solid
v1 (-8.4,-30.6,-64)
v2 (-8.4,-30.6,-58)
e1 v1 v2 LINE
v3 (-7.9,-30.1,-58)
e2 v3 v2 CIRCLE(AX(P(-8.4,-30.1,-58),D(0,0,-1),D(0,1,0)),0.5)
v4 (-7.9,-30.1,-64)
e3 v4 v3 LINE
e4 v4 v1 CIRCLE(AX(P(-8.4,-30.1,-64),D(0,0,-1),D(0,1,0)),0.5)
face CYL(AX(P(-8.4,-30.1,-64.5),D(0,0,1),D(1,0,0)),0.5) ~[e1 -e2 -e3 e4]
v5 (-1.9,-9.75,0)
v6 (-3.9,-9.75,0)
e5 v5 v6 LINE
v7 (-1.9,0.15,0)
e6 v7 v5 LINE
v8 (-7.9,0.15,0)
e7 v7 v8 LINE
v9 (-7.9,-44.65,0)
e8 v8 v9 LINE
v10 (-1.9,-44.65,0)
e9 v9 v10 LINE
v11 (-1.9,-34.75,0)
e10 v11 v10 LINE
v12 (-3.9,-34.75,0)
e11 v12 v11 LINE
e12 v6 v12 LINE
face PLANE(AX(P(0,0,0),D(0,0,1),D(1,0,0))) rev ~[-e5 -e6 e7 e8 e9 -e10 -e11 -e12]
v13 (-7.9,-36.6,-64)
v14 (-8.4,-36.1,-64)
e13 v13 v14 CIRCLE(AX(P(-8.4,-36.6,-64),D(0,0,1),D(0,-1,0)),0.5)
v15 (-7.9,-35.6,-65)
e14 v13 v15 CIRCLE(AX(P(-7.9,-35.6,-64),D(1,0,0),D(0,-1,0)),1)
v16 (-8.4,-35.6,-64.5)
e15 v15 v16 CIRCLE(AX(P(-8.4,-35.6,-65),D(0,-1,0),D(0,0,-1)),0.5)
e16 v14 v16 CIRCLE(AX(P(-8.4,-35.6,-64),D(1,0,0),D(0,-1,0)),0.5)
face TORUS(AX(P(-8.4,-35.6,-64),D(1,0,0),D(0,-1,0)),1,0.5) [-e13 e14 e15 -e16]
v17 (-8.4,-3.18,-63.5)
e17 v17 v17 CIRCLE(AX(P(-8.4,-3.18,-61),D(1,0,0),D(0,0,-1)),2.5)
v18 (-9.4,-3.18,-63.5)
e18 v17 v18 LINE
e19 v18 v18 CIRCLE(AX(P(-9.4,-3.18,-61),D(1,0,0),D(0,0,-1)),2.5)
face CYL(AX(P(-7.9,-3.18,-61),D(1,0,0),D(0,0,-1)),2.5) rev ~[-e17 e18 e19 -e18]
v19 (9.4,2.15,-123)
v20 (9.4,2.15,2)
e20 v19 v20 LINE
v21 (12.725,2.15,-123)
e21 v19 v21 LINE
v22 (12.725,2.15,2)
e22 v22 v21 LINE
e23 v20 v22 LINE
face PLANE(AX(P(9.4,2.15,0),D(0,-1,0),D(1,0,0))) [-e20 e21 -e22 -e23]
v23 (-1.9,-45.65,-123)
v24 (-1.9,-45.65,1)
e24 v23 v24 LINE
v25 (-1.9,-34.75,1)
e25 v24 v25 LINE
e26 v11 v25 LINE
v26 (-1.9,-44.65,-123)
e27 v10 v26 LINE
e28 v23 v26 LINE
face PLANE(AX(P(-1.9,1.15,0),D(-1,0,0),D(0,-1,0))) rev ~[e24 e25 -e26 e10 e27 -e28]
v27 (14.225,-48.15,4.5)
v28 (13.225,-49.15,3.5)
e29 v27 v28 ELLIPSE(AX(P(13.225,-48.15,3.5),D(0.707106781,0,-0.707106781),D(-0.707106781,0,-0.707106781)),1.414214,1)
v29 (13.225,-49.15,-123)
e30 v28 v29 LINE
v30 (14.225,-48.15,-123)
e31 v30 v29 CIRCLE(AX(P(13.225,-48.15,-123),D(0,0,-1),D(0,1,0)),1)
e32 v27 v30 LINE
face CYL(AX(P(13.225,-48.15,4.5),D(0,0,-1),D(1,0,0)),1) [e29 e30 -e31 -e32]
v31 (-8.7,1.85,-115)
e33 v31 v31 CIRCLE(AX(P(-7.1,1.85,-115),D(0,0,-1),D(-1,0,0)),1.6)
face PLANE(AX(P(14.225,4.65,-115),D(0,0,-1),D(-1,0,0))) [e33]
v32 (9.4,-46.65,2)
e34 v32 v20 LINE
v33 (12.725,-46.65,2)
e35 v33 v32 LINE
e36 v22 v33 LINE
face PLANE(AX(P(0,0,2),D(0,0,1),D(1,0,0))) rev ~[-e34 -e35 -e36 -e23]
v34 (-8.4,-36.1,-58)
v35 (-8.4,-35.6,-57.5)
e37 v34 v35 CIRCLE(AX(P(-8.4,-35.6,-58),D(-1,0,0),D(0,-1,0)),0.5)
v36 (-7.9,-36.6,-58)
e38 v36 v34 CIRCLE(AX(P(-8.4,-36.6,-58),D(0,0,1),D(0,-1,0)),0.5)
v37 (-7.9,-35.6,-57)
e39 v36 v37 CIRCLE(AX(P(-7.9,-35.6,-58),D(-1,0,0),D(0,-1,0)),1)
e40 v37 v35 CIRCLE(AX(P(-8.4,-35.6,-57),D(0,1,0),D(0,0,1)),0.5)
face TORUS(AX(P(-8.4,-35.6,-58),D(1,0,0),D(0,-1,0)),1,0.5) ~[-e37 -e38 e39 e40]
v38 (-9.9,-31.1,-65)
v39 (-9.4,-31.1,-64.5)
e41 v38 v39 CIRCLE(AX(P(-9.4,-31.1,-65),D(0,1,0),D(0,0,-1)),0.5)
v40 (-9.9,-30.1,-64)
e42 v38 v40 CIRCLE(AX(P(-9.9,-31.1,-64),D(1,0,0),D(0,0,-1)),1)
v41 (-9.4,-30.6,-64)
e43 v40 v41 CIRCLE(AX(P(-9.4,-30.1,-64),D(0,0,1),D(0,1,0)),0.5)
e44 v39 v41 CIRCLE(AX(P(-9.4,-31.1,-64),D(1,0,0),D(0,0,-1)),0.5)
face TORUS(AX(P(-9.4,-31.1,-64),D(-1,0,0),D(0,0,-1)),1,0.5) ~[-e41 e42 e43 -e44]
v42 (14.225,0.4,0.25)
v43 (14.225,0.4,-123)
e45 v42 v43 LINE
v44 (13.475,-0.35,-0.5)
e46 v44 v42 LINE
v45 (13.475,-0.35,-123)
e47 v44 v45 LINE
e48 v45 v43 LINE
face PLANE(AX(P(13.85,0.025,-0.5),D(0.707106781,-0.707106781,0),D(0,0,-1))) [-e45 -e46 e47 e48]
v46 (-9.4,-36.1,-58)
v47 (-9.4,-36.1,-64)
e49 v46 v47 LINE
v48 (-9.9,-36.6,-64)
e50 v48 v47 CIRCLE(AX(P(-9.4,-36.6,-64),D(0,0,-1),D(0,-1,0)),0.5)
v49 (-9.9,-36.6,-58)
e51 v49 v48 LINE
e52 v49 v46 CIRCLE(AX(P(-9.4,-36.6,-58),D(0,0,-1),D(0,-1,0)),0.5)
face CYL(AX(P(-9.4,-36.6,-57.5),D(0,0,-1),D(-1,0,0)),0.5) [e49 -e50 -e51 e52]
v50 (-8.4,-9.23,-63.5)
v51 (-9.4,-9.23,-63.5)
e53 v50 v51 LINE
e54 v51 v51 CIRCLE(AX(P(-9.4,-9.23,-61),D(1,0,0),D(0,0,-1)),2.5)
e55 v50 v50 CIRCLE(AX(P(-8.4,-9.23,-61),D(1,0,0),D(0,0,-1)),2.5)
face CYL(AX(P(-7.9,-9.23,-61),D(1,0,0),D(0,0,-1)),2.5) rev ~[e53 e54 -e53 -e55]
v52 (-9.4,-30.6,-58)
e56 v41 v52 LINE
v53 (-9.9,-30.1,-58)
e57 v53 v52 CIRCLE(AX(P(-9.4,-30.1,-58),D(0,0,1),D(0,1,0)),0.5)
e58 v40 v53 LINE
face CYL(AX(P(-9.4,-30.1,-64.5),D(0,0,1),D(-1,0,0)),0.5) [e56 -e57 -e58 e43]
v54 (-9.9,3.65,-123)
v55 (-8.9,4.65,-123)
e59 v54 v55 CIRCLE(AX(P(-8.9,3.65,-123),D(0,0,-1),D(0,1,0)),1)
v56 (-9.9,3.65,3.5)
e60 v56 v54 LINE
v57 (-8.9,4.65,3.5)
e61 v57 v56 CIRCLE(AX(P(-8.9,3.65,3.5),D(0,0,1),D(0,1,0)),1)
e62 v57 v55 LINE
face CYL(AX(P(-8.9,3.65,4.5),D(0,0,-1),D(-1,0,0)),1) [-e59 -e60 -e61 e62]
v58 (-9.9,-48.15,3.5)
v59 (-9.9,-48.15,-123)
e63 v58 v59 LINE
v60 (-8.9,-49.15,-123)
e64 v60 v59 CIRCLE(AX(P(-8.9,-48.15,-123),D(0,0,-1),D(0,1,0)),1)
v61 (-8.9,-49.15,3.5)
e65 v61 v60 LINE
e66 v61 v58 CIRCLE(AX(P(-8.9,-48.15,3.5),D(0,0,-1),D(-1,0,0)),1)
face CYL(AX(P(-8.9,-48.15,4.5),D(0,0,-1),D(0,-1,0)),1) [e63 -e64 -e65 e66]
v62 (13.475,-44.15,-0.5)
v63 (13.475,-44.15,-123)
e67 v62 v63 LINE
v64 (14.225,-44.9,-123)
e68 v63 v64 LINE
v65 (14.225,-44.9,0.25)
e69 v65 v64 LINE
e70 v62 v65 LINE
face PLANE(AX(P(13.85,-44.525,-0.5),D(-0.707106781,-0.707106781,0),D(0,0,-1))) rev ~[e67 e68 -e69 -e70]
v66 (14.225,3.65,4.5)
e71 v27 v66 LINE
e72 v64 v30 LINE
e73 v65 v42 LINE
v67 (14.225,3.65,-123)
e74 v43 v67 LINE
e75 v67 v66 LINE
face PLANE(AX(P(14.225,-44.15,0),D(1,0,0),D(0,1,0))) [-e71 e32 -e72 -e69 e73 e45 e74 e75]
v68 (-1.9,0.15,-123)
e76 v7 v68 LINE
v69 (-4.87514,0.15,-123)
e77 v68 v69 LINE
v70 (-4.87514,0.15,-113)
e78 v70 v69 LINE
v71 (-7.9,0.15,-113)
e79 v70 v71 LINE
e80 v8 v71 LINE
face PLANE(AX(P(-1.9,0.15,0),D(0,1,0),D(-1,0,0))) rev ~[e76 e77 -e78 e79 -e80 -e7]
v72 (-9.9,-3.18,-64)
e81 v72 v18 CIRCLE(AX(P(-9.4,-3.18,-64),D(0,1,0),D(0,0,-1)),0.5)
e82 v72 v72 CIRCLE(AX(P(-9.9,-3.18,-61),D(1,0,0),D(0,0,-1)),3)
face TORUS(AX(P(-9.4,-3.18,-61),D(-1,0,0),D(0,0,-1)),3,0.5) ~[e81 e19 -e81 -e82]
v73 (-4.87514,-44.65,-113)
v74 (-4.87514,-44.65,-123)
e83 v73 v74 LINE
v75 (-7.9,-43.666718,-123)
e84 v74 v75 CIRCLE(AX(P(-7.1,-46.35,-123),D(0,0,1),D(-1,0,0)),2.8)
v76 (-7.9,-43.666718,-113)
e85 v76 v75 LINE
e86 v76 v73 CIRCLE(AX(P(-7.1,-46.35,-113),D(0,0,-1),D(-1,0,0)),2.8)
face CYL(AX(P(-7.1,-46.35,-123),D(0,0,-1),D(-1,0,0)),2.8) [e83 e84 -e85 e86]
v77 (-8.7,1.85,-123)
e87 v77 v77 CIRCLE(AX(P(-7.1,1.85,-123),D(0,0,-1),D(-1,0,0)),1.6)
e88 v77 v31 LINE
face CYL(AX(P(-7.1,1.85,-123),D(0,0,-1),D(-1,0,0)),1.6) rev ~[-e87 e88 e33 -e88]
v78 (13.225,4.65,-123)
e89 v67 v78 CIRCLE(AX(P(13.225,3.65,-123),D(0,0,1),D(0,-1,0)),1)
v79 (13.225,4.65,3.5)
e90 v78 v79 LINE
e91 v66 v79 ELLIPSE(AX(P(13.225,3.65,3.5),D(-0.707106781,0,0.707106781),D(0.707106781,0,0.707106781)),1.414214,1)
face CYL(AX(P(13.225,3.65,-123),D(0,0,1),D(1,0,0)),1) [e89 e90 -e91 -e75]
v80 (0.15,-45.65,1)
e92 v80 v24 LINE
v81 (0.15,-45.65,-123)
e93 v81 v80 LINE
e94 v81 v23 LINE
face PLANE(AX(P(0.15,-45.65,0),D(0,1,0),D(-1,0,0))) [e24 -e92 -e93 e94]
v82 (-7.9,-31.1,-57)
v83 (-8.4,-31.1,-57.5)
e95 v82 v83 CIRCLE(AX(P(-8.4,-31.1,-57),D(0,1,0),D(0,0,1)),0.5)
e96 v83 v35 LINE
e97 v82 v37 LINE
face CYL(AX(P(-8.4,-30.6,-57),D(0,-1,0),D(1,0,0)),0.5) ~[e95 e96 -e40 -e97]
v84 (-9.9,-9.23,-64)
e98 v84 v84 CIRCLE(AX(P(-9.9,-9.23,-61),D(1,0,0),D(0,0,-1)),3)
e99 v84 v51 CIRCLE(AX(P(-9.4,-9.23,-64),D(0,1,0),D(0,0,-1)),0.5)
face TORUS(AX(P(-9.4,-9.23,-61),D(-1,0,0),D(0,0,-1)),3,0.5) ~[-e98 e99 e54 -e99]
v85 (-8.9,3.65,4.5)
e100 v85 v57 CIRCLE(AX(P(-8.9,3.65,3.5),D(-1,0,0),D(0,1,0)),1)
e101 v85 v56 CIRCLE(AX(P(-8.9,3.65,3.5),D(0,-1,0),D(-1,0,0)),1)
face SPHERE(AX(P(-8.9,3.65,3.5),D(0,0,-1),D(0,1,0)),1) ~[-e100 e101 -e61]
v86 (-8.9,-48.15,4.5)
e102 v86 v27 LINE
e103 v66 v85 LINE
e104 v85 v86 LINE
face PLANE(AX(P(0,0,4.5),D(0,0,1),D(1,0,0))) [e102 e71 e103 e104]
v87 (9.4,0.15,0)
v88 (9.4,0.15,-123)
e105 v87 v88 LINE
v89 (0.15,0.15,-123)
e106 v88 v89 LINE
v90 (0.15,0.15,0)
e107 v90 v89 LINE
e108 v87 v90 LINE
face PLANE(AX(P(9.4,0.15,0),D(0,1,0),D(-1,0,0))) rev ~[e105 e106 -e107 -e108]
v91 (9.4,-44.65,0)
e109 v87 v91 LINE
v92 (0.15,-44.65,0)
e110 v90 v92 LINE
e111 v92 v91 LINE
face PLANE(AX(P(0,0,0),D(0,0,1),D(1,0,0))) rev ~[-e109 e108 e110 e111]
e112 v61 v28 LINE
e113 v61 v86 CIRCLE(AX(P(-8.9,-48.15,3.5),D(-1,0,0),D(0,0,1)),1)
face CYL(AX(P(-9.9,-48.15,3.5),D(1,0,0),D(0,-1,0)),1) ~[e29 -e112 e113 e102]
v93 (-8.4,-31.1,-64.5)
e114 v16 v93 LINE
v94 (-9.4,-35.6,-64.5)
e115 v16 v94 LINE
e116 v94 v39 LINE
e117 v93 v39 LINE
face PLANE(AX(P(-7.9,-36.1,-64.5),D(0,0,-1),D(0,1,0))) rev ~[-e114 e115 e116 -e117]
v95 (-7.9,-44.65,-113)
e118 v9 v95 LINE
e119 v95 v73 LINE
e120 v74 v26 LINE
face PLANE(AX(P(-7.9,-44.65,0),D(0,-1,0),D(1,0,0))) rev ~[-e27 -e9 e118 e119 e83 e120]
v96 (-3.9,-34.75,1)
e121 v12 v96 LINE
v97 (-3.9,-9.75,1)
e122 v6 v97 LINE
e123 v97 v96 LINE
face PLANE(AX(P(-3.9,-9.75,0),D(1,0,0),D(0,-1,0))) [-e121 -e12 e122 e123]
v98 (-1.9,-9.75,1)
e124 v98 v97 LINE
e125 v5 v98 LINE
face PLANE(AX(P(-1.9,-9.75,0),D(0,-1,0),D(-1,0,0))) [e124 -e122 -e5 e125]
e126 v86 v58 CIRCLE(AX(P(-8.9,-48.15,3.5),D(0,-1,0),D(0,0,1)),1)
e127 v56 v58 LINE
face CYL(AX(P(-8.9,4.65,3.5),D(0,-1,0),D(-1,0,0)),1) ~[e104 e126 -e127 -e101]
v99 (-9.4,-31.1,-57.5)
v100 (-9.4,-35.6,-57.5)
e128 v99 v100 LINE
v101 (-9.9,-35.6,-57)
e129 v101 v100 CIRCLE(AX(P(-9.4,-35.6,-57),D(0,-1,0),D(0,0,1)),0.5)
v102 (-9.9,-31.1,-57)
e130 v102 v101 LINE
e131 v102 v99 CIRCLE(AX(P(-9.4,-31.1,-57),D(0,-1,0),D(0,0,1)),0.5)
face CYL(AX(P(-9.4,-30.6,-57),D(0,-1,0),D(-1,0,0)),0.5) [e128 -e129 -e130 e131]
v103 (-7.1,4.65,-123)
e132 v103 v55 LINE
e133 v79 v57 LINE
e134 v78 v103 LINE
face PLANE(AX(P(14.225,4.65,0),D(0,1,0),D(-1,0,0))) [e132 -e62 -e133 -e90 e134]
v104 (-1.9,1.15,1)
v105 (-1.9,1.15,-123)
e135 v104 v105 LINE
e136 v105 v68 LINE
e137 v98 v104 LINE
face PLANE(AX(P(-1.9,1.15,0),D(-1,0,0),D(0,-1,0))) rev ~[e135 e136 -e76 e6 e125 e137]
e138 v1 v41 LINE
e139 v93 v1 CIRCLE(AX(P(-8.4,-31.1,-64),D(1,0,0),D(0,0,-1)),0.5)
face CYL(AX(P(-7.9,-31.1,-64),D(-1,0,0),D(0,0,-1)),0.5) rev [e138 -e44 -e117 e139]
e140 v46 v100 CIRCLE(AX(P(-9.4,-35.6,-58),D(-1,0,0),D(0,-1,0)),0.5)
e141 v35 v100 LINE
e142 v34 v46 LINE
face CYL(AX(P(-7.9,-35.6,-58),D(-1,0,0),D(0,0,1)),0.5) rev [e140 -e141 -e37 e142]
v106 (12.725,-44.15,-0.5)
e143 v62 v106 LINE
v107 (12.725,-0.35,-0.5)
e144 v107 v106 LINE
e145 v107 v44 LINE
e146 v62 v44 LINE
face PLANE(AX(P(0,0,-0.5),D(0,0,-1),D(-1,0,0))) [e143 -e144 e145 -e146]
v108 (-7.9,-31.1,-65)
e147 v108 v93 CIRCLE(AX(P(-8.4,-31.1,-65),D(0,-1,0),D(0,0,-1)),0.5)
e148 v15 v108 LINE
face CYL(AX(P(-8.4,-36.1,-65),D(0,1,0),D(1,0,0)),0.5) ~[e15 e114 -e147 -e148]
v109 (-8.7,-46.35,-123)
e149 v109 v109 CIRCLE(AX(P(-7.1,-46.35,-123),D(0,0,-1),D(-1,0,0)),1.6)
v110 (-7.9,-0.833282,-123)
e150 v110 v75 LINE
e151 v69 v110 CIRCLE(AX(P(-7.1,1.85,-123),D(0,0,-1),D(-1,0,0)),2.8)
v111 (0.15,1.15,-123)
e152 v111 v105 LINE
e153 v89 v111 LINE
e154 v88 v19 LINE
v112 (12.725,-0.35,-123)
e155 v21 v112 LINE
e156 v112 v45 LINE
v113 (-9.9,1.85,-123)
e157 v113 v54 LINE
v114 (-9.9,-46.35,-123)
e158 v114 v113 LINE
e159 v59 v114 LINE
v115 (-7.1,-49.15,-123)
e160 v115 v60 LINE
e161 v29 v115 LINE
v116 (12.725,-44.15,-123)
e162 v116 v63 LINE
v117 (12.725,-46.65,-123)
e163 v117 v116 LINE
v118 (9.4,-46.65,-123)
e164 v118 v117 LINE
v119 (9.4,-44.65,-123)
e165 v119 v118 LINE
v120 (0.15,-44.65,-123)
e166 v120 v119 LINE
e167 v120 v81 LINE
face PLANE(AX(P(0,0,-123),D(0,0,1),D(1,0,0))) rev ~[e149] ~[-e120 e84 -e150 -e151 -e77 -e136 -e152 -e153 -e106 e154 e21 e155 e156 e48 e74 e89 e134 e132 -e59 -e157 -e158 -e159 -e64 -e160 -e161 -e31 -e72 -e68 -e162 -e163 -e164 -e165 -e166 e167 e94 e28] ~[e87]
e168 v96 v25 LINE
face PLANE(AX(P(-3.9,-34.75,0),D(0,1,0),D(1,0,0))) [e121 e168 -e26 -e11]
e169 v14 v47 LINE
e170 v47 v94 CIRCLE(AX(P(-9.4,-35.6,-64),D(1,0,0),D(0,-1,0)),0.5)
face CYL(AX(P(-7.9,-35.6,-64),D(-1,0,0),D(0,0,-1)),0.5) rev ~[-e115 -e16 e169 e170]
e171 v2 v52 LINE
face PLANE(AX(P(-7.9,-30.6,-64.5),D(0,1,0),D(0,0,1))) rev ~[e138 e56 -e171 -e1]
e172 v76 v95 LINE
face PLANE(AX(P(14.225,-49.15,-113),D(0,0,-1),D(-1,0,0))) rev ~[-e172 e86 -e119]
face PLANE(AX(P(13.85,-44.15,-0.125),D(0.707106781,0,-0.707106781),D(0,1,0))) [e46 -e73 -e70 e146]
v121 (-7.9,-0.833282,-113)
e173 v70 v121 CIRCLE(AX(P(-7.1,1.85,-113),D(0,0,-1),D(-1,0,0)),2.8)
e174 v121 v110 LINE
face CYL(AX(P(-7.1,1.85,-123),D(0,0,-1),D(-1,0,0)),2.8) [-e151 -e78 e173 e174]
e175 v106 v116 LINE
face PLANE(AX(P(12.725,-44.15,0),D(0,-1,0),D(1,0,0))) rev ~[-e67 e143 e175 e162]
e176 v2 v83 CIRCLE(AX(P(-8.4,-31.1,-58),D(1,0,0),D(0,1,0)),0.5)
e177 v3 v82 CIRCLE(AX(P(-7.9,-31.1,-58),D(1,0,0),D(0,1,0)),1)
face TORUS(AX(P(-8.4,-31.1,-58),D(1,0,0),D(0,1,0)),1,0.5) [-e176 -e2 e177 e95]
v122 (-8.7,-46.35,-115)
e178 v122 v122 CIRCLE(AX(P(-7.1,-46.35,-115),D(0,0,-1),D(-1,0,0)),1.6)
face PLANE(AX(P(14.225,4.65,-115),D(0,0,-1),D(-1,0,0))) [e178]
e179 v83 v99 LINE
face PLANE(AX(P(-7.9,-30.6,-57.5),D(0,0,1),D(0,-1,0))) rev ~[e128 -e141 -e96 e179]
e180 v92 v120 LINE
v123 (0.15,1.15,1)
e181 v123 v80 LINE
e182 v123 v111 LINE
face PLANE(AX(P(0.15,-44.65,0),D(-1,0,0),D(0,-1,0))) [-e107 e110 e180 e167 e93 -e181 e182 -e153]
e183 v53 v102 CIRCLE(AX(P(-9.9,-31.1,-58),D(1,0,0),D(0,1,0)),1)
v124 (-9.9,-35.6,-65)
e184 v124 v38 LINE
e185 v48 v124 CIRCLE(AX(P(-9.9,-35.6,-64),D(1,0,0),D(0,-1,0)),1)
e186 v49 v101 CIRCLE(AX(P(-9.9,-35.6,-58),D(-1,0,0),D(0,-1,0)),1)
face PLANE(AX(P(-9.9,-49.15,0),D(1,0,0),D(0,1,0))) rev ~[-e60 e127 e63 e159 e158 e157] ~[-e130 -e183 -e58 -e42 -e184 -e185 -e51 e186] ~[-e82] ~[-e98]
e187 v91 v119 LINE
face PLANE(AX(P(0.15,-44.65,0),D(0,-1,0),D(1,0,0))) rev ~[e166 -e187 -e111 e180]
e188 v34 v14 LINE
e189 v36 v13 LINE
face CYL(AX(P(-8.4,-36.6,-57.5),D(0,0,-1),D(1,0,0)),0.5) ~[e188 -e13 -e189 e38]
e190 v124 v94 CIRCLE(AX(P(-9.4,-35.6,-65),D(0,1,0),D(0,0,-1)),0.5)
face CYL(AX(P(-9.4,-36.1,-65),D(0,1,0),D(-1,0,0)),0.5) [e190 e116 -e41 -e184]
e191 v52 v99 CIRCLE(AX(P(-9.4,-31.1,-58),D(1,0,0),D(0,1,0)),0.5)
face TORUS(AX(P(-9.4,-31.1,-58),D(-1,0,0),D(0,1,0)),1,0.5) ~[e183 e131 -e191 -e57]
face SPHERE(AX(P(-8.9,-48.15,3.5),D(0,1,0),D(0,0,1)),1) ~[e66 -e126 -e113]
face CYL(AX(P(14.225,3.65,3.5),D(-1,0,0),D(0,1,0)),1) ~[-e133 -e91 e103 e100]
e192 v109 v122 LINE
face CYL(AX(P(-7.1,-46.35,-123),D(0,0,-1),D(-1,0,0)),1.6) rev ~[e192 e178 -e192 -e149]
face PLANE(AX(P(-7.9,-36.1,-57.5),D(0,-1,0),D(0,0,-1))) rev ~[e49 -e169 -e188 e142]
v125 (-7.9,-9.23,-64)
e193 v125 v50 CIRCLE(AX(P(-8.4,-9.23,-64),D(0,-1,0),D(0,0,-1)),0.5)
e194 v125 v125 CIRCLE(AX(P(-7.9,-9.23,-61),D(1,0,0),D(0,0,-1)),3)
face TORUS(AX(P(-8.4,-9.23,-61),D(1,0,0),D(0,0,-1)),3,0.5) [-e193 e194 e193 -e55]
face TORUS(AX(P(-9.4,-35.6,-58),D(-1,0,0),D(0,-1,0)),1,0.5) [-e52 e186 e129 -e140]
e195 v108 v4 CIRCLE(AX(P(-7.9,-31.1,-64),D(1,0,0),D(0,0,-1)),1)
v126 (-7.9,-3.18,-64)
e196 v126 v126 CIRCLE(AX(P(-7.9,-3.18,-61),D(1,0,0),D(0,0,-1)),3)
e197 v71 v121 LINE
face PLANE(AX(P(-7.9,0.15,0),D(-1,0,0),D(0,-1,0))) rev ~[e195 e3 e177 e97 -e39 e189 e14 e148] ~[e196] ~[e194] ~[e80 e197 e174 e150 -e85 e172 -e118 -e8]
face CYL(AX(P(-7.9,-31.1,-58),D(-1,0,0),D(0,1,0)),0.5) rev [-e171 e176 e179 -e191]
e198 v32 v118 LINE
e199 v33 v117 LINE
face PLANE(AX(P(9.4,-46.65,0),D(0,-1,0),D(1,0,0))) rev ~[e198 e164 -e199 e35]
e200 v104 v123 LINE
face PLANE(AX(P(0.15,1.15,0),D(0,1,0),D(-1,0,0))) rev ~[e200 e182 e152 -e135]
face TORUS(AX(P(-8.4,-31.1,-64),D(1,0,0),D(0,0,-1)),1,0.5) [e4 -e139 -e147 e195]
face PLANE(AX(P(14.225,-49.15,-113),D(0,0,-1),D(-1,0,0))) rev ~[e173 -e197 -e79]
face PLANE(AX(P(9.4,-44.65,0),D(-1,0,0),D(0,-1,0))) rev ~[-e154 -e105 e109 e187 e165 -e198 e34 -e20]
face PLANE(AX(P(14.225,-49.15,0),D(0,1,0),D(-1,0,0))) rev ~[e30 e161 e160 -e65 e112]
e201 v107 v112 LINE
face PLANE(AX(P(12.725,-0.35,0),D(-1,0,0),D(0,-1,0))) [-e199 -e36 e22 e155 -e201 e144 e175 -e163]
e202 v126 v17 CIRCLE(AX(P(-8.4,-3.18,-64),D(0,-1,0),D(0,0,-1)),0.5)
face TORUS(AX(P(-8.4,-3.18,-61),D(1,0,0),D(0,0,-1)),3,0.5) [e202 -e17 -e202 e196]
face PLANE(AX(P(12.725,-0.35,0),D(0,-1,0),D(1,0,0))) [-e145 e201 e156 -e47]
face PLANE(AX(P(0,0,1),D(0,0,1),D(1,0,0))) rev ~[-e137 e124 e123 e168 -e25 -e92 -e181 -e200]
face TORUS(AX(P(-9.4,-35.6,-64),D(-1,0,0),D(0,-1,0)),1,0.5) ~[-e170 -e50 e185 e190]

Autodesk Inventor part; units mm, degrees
ref_plane "YZ Plane" through (0, 0, 0) normal (1, 0, 0) x (0, 1, 0)
ref_plane "XZ Plane" through (0, 0, 0) normal (0, 1, 0) x (-1, 0, 0)
sketch "Sketch1" plane through (0, 0, 0) normal (0, 0, 1) x (1, 0, 0)
  line L0 (0, -44.5) -> (0, 0) projected
  line L1 (0, -44.5) -> (9.25, -44.5) projected
  line L2 (9.25, 0) -> (9.25, -44.5) projected
  line L3 (0, 0) -> (9.25, 0) projected
  line L4 (-1.75, 0) -> (-1.75, -44.5) projected
  line L5 (-1.75, -44.5) -> (0, -44.5) projected
  line L6 (0, 0) -> (0, -44.5) projected
  line L7 (-1.75, 0) -> (0, 0) projected
  line L8 (-1.75, 1) -> (0, 1) projected
  line L9 (0, 0) -> (0, 1) projected
  line L10 (-1.75, 0) -> (-1.75, 1) projected
  line L11 (0, -45.5) -> (0, -44.5) projected
  line L12 (-1.75, -45.5) -> (0, -45.5) projected
  line L13 (-1.75, -45.5) -> (-1.75, -44.5) projected
  line L14 (0.15, -44.65) -> (9.4, -44.65)
  line L15 (9.4, -44.65) -> (9.4, 0.15)
  line L16 (9.4, 0.15) -> (0.15, 0.15)
  line L17 (0.15, -44.65) -> (0.15, -45.65)
  line L18 (0.15, -45.65) -> (-1.9, -45.65)
  line L19 (-1.9, -45.65) -> (-1.9, -44.65)
  line L20 (0.15, 0.15) -> (0.15, 1.15)
  line L21 (0.15, 1.15) -> (-1.9, 1.15)
  line L22 (-1.9, 1.15) -> (-1.9, 0.15)
  line L23 (-1.9, 0.15) -> (-7.9, 0.15)
  line L24 (-7.9, 0.15) -> (-7.9, -44.65)
  line L25 (-7.9, -44.65) -> (-1.9, -44.65)
  line L26 (9.4, -44.65) -> (9.4, -46.65)
  line L27 (9.4, -46.65) -> (12.725, -46.65)
  line L28 (12.725, -46.65) -> (12.725, -44.15)
  line L29 (12.725, -44.15) -> (14.225, -44.15)
  line L30 (14.225, -44.15) -> (14.225, -49.15)
  line L31 (14.225, -49.15) -> (-9.9, -49.15)
  line L32 (-9.9, -49.15) -> (-9.9, 4.65)
  line L33 (9.4, 0.15) -> (9.4, 2.15)
  line L34 (9.4, 2.15) -> (12.725, 2.15)
  line L35 (12.725, 2.15) -> (12.725, -0.35)
  line L36 (12.725, -0.35) -> (14.225, -0.35)
  line L37 (14.225, -0.35) -> (14.225, 4.65)
  line L38 (14.225, 4.65) -> (-9.9, 4.65)
  point P0 (-1.9, -45.15)
  dimension "d0" = 0.15
  dimension "d1" = 0.15
  dimension "d3" = 0.15
  dimension "d4" = 0.15
  dimension "d5" = 0.15
  dimension "d6" = 0.15
  dimension "d7" = 0.15
  dimension "d8" = 6
  dimension "d9" = 2
  dimension "d10" = 3.325
  dimension "d11" = 2.5
  dimension "d12" = 1.5
  dimension "d13" = 5
  dimension "d14" = 2
  dimension "d15" = 2.5
  dimension "d16" = 1.5
  dimension "d17" = 5
  dimension "d18" = 2
ref_plane "Work Plane1" through (0, -44.5, -123) normal (0, 0, -1) x (0, 1, 0)
extrude "Extrusion1" add sketch "Sketch1" against normal up to surface (123 mm away) contours L14 L26 L27 L28 L29 L30 L31 L32 L38 L37 L36 L35 L34 L33 L16 L20 L21 L22 L23 L24 L25 L19 L18 L17
sketch "Sketch2" plane through (0, 0, 0) normal (0, 0, 1) x (1, 0, 0)
  line L0 (9.4, 0.15) -> (9.4, 2.15) projected
  line L1 (9.4, 2.15) -> (12.725, 2.15) projected
  line L2 (12.725, 2.15) -> (12.725, -0.35) projected
  line L3 (12.725, -0.35) -> (14.225, -0.35) projected
  line L4 (14.225, -0.35) -> (14.225, 4.65) projected
  line L5 (14.225, 4.65) -> (-9.9, 4.65) projected
  line L6 (-9.9, 4.65) -> (-9.9, -49.15) projected
  line L7 (-9.9, -49.15) -> (14.225, -49.15) projected
  line L8 (14.225, -49.15) -> (14.225, -44.15) projected
  line L9 (14.225, -44.15) -> (12.725, -44.15) projected
  line L10 (12.725, -44.15) -> (12.725, -46.65) projected
  line L11 (12.725, -46.65) -> (9.4, -46.65) projected
  line L12 (9.4, -46.65) -> (9.4, -44.65) projected
  line L13 (9.4, -44.65) -> (0.15, -44.65) projected
  line L14 (0.15, -44.65) -> (0.15, -45.65) projected
  line L15 (0.15, -45.65) -> (-1.9, -45.65) projected
  line L16 (-1.9, -45.65) -> (-1.9, -44.65) projected
  line L17 (-1.9, -44.65) -> (-7.9, -44.65) projected
  line L18 (-7.9, -44.65) -> (-7.9, 0.15) projected
  line L19 (-7.9, 0.15) -> (-1.9, 0.15) projected
  line L20 (-1.9, 0.15) -> (-1.9, 1.15) projected
  line L21 (-1.9, 1.15) -> (0.15, 1.15) projected
  line L22 (0.15, 1.15) -> (0.15, 0.15) projected
  line L23 (0.15, 0.15) -> (9.4, 0.15) projected
  line L24 (-7.9, -44.65) -> (-7.9, 0.15) projected
  line L25 (-7.9, 0.15) -> (-1.9, 0.15)
  line L26 (-1.9, 0.15) -> (-1.9, -44.65)
  line L27 (-1.9, -44.65) -> (-7.9, -44.65)
  line L28 (-7.9, -44.65) -> (-7.9, 0.15)
  line L29 (0.15, -44.65) -> (9.4, -44.65)
  line L30 (9.4, -44.65) -> (9.4, 0.15)
  line L31 (9.4, 0.15) -> (0.15, 0.15)
  line L32 (0.15, 0.15) -> (0.15, -44.65)
  line L33 (12.725, -0.35) -> (14.225, -0.35)
  line L34 (14.225, -0.35) -> (14.225, -44.15)
  line L35 (14.225, -44.15) -> (12.725, -44.15)
  line L36 (12.725, -44.15) -> (12.725, -0.35)
  point P0 (0, 0)
extrude "Extrusion2" add sketch "Sketch2" along normal blind 4.5 contours L23 L22 L21 L20 L19 L18 L17 L16 L15 L14 L13 L12 L11 L10 L9 L8 L7 L6 L5 L4 L3 L2 L1 L0 | L30 L13 L32 L23 | L3 L34 L9 L36 | L26 L17 L18 L19
sketch "Sketch3" plane through (0, 0, 4.5) normal (0, 0, 1) x (1, 0, 0)
  line L0 (14.225, -49.15) -> (14.225, 4.65) projected
  line L1 (14.225, 4.65) -> (-9.9, 4.65) projected
  line L2 (-9.9, 4.65) -> (-9.9, -49.15) projected
  line L3 (-9.9, -49.15) -> (14.225, -49.15) projected
  line L4 (12.725, 2.15) -> (12.725, -46.65) projected
  line L5 (12.725, -46.65) -> (9.4, -46.65) projected
  line L6 (9.4, -46.65) -> (9.4, 2.15) projected
  line L7 (9.4, 2.15) -> (12.725, 2.15) projected
  line L8 (0.15, 1.15) -> (0.15, -45.65) projected
  line L9 (0.15, -45.65) -> (-1.9, -45.65) projected
  line L10 (-1.9, -45.65) -> (-1.9, 1.15) projected
  line L11 (-1.9, 1.15) -> (0.15, 1.15) projected
  point P0 (0, 0)
extrude "Extrusion3" add sketch "Sketch3" against normal blind 3.5 contours L8 L9 L10 L11
sketch "Sketch4" plane through (0, 0, 4.5) normal (0, 0, 1) x (1, 0, 0)
  line L0 (14.225, -49.15) -> (14.225, 4.65) projected
  line L1 (14.225, 4.65) -> (-9.9, 4.65) projected
  line L2 (-9.9, 4.65) -> (-9.9, -49.15) projected
  line L3 (-9.9, -49.15) -> (14.225, -49.15) projected
  line L4 (12.725, 2.15) -> (12.725, -46.65) projected
  line L5 (12.725, -46.65) -> (9.4, -46.65) projected
  line L6 (9.4, -46.65) -> (9.4, 2.15) projected
  line L7 (9.4, 2.15) -> (12.725, 2.15) projected
  point P0 (0, 0)
extrude "Extrusion4" add sketch "Sketch4" against normal blind 2.5 contours L4 L5 L6 L7
sketch "Sketch5" plane through (0, 0, 0) normal (0, 0, -1) x (-1, 0, 0)
  line L0 (-12.725, -0.35) -> (-14.225, -0.35) projected
  line L1 (-14.225, -44.15) -> (-14.225, -0.35) projected
  line L2 (-14.225, -44.15) -> (-12.725, -44.15) projected
  line L3 (-12.725, -0.35) -> (-12.725, -44.15) projected
  point P0 (0, 0)
extrude "Extrusion5" add sketch "Sketch5" along normal blind 0.5
sketch "Sketch6" plane through (14.225, -49.15, -123) normal (0, 0, -1) x (-1, 0, 0)
  circle A0 centre (21.325, 51) radius 1.8
  circle A1 centre (21.325, 51) radius 2.8
  line L0 (0, 53.8) -> (24.125, 53.8) projected
  line L1 (24.125, 53.8) -> (24.125, 0) projected
  circle A2 centre (21.325, 2.8) radius 1.8
  circle A3 centre (21.325, 2.8) radius 2.8
  line L2 (24.125, 0) -> (0, 0) projected
  line L3 (4.825, 51.3) -> (1.5, 51.3) projected
  line L4 (4.825, 49.3) -> (4.825, 51.3) projected
  line L5 (14.075, 49.3) -> (4.825, 49.3) projected
  line L6 (14.075, 50.3) -> (14.075, 49.3) projected
  line L7 (16.125, 50.3) -> (14.075, 50.3) projected
  line L8 (16.125, 49.3) -> (16.125, 50.3) projected
  line L9 (22.125, 49.3) -> (16.125, 49.3) projected
  line L10 (22.125, 4.5) -> (22.125, 49.3) projected
  line L11 (16.125, 4.5) -> (22.125, 4.5) projected
  line L12 (16.125, 3.5) -> (16.125, 4.5) projected
  line L13 (14.075, 3.5) -> (16.125, 3.5) projected
  line L14 (14.075, 4.5) -> (14.075, 3.5) projected
  line L15 (4.825, 4.5) -> (14.075, 4.5) projected
  line L16 (4.825, 2.5) -> (4.825, 4.5) projected
  line L17 (1.5, 2.5) -> (4.825, 2.5) projected
  line L18 (1.5, 5) -> (1.5, 2.5) projected
  line L19 (0, 5) -> (1.5, 5) projected
  line L20 (0, 0) -> (0, 5) projected
  line L21 (24.125, 0) -> (0, 0) projected
  line L22 (24.125, 53.8) -> (24.125, 0) projected
  line L23 (0, 53.8) -> (24.125, 53.8) projected
  line L24 (0, 48.8) -> (0, 53.8) projected
  line L25 (1.5, 48.8) -> (0, 48.8) projected
  line L26 (1.5, 51.3) -> (1.5, 48.8) projected
  point P0 (14.225, 49.15)
  dimension "d41" = 3.6
  dimension "d42" = 1
  dimension "d43" = 3.6
  dimension "d44" = 1
extrude "Extrusion6" add sketch "Sketch6" against normal blind 10 contours A0 L9 | A0 L9 A1 L10 | L9 A0 | A0 L9 L10 A1 | L10 L11 A2 A3 | A3 L11 A2 L10 | L11 A2 | A2 L11
sketch "Sketch7" plane through (14.225, 4.65, -123) normal (0, 0, -1) x (-1, 0, 0)
  arc A0 (19.1001, -4.5) -> (22.125, -5.4833) centre (21.325, -2.8) ccw projected
  arc A1 (22.125, -48.3167) -> (19.1001, -49.3) centre (21.325, -51) ccw projected
  circle A2 centre (21.325, -2.8) radius 1.6
  circle A3 centre (21.325, -51) radius 1.6
  point P0 (14.225, -4.65)
  dimension "d47" = 3.2
  dimension "d48" = 3.2
extrude "Extrusion7" cut sketch "Sketch7" against normal blind 8
chamfer "Chamfer2" distance 0.75 angle 45 3 edges at (14.225, -0.35, -61.75) (14.225, -44.15, -61.75) (14.225, -22.25, -0.5)
sketch "Sketch8" plane through (-7.9, -44.65, 0) normal (1, 0, 0) x (0, 0, -1)
  line L0 (0.5, 0.5) -> (0.5, 44.3) projected
  line L1 (123, 0.9833) -> (123, 43.8167) projected
  line L2 (124, 45.8) -> (124, 27.4772) projected
  line L3 (-2, -2) -> (-2, 46.8) projected
  line L4 (-2, 46.8) -> (-2, -2) projected
  line L5 (59.5, 12.05) -> (62.5, 12.05) construction
  line L6 (62.5, 12.05) -> (62.5, 10.55) construction
  line L7 (62.5, 10.55) -> (59.5, 10.55) construction
  line L8 (59.5, 10.55) -> (59.5, 12.05) construction
  line L9 (64.5, 14.05) -> (57.5, 14.05)
  line L10 (57.5, 14.05) -> (57.5, 8.55)
  line L11 (57.5, 8.55) -> (64.5, 8.55)
  line L12 (64.5, 8.55) -> (64.5, 14.05)
  line L13 (123, 46.8) -> (-2, 46.8) projected
  line L14 (124, 27.4772) -> (-2, 27.4772) construction
  circle A0 centre (61, 35.42) radius 2.5
  circle A1 centre (61, 41.47) radius 2.5
  point P0 (0, 44.65)
  point P1 (61, 12.05)
  point P2 (61, 27.4772)
  dimension "d61" = 3
  dimension "d62" = 1.5
  dimension "d63" = 2
  dimension "d64" = 34.75
  dimension "d65" = 5
  dimension "d66" = 5
  dimension "d67" = 6.05
  dimension "d68" = 5.33
extrude "Extrusion8" cut sketch "Sketch8" against normal through all
fillet "Fillet1" radius 1 7 edges at (14.225, 4.65, -59.25) (-9.9, 4.65, -59.25) (14.225, -49.15, -59.25) (2.1625, 4.65, 4.5) (-9.9, -22.25, 4.5) (2.1625, -49.15, 4.5) (-9.9, -49.15, -59.25)
fillet "Fillet2" radius 0.5 16 edges at (-7.9, -36.1, -61) (-7.9, -33.35, -64.5) (-7.9, -30.6, -61) (-7.9, -33.35, -57.5) (-9.9, -36.1, -61) (-9.9, -33.35, -64.5) (-9.9, -30.6, -61) (-9.9, -33.35, -57.5) (-8.9, -30.6, -57.5) (-8.9, -36.1, -57.5) (-8.9, -36.1, -64.5) (-8.9, -30.6, -64.5) (-7.9, -9.23, -58.5) (-9.9, -9.23, -58.5) (-9.9, -3.18, -58.5) (-7.9, -3.18, -58.5)
sketch "Sketch9" plane through (0, 0, 0) normal (0, 0, -1) x (-1, 0, 0)
  line L0 (1.9, -44.65) -> (1.9, 0.15) projected
  line L1 (1.9, -9.75) -> (3.9, -9.75)
  line L2 (3.9, -9.75) -> (3.9, -34.75)
  line L3 (3.9, -34.75) -> (1.9, -34.75)
  line L4 (1.9, -34.75) -> (1.9, -9.75)
  point P0 (0, 0)
  point P1 (1.9, -22.25)
  dimension "d73" = 2
  dimension "d74" = 25
extrude "Extrusion9" cut sketch "Sketch9" against normal up to surface (1 mm away)
properties part number "V2.1 Case"
